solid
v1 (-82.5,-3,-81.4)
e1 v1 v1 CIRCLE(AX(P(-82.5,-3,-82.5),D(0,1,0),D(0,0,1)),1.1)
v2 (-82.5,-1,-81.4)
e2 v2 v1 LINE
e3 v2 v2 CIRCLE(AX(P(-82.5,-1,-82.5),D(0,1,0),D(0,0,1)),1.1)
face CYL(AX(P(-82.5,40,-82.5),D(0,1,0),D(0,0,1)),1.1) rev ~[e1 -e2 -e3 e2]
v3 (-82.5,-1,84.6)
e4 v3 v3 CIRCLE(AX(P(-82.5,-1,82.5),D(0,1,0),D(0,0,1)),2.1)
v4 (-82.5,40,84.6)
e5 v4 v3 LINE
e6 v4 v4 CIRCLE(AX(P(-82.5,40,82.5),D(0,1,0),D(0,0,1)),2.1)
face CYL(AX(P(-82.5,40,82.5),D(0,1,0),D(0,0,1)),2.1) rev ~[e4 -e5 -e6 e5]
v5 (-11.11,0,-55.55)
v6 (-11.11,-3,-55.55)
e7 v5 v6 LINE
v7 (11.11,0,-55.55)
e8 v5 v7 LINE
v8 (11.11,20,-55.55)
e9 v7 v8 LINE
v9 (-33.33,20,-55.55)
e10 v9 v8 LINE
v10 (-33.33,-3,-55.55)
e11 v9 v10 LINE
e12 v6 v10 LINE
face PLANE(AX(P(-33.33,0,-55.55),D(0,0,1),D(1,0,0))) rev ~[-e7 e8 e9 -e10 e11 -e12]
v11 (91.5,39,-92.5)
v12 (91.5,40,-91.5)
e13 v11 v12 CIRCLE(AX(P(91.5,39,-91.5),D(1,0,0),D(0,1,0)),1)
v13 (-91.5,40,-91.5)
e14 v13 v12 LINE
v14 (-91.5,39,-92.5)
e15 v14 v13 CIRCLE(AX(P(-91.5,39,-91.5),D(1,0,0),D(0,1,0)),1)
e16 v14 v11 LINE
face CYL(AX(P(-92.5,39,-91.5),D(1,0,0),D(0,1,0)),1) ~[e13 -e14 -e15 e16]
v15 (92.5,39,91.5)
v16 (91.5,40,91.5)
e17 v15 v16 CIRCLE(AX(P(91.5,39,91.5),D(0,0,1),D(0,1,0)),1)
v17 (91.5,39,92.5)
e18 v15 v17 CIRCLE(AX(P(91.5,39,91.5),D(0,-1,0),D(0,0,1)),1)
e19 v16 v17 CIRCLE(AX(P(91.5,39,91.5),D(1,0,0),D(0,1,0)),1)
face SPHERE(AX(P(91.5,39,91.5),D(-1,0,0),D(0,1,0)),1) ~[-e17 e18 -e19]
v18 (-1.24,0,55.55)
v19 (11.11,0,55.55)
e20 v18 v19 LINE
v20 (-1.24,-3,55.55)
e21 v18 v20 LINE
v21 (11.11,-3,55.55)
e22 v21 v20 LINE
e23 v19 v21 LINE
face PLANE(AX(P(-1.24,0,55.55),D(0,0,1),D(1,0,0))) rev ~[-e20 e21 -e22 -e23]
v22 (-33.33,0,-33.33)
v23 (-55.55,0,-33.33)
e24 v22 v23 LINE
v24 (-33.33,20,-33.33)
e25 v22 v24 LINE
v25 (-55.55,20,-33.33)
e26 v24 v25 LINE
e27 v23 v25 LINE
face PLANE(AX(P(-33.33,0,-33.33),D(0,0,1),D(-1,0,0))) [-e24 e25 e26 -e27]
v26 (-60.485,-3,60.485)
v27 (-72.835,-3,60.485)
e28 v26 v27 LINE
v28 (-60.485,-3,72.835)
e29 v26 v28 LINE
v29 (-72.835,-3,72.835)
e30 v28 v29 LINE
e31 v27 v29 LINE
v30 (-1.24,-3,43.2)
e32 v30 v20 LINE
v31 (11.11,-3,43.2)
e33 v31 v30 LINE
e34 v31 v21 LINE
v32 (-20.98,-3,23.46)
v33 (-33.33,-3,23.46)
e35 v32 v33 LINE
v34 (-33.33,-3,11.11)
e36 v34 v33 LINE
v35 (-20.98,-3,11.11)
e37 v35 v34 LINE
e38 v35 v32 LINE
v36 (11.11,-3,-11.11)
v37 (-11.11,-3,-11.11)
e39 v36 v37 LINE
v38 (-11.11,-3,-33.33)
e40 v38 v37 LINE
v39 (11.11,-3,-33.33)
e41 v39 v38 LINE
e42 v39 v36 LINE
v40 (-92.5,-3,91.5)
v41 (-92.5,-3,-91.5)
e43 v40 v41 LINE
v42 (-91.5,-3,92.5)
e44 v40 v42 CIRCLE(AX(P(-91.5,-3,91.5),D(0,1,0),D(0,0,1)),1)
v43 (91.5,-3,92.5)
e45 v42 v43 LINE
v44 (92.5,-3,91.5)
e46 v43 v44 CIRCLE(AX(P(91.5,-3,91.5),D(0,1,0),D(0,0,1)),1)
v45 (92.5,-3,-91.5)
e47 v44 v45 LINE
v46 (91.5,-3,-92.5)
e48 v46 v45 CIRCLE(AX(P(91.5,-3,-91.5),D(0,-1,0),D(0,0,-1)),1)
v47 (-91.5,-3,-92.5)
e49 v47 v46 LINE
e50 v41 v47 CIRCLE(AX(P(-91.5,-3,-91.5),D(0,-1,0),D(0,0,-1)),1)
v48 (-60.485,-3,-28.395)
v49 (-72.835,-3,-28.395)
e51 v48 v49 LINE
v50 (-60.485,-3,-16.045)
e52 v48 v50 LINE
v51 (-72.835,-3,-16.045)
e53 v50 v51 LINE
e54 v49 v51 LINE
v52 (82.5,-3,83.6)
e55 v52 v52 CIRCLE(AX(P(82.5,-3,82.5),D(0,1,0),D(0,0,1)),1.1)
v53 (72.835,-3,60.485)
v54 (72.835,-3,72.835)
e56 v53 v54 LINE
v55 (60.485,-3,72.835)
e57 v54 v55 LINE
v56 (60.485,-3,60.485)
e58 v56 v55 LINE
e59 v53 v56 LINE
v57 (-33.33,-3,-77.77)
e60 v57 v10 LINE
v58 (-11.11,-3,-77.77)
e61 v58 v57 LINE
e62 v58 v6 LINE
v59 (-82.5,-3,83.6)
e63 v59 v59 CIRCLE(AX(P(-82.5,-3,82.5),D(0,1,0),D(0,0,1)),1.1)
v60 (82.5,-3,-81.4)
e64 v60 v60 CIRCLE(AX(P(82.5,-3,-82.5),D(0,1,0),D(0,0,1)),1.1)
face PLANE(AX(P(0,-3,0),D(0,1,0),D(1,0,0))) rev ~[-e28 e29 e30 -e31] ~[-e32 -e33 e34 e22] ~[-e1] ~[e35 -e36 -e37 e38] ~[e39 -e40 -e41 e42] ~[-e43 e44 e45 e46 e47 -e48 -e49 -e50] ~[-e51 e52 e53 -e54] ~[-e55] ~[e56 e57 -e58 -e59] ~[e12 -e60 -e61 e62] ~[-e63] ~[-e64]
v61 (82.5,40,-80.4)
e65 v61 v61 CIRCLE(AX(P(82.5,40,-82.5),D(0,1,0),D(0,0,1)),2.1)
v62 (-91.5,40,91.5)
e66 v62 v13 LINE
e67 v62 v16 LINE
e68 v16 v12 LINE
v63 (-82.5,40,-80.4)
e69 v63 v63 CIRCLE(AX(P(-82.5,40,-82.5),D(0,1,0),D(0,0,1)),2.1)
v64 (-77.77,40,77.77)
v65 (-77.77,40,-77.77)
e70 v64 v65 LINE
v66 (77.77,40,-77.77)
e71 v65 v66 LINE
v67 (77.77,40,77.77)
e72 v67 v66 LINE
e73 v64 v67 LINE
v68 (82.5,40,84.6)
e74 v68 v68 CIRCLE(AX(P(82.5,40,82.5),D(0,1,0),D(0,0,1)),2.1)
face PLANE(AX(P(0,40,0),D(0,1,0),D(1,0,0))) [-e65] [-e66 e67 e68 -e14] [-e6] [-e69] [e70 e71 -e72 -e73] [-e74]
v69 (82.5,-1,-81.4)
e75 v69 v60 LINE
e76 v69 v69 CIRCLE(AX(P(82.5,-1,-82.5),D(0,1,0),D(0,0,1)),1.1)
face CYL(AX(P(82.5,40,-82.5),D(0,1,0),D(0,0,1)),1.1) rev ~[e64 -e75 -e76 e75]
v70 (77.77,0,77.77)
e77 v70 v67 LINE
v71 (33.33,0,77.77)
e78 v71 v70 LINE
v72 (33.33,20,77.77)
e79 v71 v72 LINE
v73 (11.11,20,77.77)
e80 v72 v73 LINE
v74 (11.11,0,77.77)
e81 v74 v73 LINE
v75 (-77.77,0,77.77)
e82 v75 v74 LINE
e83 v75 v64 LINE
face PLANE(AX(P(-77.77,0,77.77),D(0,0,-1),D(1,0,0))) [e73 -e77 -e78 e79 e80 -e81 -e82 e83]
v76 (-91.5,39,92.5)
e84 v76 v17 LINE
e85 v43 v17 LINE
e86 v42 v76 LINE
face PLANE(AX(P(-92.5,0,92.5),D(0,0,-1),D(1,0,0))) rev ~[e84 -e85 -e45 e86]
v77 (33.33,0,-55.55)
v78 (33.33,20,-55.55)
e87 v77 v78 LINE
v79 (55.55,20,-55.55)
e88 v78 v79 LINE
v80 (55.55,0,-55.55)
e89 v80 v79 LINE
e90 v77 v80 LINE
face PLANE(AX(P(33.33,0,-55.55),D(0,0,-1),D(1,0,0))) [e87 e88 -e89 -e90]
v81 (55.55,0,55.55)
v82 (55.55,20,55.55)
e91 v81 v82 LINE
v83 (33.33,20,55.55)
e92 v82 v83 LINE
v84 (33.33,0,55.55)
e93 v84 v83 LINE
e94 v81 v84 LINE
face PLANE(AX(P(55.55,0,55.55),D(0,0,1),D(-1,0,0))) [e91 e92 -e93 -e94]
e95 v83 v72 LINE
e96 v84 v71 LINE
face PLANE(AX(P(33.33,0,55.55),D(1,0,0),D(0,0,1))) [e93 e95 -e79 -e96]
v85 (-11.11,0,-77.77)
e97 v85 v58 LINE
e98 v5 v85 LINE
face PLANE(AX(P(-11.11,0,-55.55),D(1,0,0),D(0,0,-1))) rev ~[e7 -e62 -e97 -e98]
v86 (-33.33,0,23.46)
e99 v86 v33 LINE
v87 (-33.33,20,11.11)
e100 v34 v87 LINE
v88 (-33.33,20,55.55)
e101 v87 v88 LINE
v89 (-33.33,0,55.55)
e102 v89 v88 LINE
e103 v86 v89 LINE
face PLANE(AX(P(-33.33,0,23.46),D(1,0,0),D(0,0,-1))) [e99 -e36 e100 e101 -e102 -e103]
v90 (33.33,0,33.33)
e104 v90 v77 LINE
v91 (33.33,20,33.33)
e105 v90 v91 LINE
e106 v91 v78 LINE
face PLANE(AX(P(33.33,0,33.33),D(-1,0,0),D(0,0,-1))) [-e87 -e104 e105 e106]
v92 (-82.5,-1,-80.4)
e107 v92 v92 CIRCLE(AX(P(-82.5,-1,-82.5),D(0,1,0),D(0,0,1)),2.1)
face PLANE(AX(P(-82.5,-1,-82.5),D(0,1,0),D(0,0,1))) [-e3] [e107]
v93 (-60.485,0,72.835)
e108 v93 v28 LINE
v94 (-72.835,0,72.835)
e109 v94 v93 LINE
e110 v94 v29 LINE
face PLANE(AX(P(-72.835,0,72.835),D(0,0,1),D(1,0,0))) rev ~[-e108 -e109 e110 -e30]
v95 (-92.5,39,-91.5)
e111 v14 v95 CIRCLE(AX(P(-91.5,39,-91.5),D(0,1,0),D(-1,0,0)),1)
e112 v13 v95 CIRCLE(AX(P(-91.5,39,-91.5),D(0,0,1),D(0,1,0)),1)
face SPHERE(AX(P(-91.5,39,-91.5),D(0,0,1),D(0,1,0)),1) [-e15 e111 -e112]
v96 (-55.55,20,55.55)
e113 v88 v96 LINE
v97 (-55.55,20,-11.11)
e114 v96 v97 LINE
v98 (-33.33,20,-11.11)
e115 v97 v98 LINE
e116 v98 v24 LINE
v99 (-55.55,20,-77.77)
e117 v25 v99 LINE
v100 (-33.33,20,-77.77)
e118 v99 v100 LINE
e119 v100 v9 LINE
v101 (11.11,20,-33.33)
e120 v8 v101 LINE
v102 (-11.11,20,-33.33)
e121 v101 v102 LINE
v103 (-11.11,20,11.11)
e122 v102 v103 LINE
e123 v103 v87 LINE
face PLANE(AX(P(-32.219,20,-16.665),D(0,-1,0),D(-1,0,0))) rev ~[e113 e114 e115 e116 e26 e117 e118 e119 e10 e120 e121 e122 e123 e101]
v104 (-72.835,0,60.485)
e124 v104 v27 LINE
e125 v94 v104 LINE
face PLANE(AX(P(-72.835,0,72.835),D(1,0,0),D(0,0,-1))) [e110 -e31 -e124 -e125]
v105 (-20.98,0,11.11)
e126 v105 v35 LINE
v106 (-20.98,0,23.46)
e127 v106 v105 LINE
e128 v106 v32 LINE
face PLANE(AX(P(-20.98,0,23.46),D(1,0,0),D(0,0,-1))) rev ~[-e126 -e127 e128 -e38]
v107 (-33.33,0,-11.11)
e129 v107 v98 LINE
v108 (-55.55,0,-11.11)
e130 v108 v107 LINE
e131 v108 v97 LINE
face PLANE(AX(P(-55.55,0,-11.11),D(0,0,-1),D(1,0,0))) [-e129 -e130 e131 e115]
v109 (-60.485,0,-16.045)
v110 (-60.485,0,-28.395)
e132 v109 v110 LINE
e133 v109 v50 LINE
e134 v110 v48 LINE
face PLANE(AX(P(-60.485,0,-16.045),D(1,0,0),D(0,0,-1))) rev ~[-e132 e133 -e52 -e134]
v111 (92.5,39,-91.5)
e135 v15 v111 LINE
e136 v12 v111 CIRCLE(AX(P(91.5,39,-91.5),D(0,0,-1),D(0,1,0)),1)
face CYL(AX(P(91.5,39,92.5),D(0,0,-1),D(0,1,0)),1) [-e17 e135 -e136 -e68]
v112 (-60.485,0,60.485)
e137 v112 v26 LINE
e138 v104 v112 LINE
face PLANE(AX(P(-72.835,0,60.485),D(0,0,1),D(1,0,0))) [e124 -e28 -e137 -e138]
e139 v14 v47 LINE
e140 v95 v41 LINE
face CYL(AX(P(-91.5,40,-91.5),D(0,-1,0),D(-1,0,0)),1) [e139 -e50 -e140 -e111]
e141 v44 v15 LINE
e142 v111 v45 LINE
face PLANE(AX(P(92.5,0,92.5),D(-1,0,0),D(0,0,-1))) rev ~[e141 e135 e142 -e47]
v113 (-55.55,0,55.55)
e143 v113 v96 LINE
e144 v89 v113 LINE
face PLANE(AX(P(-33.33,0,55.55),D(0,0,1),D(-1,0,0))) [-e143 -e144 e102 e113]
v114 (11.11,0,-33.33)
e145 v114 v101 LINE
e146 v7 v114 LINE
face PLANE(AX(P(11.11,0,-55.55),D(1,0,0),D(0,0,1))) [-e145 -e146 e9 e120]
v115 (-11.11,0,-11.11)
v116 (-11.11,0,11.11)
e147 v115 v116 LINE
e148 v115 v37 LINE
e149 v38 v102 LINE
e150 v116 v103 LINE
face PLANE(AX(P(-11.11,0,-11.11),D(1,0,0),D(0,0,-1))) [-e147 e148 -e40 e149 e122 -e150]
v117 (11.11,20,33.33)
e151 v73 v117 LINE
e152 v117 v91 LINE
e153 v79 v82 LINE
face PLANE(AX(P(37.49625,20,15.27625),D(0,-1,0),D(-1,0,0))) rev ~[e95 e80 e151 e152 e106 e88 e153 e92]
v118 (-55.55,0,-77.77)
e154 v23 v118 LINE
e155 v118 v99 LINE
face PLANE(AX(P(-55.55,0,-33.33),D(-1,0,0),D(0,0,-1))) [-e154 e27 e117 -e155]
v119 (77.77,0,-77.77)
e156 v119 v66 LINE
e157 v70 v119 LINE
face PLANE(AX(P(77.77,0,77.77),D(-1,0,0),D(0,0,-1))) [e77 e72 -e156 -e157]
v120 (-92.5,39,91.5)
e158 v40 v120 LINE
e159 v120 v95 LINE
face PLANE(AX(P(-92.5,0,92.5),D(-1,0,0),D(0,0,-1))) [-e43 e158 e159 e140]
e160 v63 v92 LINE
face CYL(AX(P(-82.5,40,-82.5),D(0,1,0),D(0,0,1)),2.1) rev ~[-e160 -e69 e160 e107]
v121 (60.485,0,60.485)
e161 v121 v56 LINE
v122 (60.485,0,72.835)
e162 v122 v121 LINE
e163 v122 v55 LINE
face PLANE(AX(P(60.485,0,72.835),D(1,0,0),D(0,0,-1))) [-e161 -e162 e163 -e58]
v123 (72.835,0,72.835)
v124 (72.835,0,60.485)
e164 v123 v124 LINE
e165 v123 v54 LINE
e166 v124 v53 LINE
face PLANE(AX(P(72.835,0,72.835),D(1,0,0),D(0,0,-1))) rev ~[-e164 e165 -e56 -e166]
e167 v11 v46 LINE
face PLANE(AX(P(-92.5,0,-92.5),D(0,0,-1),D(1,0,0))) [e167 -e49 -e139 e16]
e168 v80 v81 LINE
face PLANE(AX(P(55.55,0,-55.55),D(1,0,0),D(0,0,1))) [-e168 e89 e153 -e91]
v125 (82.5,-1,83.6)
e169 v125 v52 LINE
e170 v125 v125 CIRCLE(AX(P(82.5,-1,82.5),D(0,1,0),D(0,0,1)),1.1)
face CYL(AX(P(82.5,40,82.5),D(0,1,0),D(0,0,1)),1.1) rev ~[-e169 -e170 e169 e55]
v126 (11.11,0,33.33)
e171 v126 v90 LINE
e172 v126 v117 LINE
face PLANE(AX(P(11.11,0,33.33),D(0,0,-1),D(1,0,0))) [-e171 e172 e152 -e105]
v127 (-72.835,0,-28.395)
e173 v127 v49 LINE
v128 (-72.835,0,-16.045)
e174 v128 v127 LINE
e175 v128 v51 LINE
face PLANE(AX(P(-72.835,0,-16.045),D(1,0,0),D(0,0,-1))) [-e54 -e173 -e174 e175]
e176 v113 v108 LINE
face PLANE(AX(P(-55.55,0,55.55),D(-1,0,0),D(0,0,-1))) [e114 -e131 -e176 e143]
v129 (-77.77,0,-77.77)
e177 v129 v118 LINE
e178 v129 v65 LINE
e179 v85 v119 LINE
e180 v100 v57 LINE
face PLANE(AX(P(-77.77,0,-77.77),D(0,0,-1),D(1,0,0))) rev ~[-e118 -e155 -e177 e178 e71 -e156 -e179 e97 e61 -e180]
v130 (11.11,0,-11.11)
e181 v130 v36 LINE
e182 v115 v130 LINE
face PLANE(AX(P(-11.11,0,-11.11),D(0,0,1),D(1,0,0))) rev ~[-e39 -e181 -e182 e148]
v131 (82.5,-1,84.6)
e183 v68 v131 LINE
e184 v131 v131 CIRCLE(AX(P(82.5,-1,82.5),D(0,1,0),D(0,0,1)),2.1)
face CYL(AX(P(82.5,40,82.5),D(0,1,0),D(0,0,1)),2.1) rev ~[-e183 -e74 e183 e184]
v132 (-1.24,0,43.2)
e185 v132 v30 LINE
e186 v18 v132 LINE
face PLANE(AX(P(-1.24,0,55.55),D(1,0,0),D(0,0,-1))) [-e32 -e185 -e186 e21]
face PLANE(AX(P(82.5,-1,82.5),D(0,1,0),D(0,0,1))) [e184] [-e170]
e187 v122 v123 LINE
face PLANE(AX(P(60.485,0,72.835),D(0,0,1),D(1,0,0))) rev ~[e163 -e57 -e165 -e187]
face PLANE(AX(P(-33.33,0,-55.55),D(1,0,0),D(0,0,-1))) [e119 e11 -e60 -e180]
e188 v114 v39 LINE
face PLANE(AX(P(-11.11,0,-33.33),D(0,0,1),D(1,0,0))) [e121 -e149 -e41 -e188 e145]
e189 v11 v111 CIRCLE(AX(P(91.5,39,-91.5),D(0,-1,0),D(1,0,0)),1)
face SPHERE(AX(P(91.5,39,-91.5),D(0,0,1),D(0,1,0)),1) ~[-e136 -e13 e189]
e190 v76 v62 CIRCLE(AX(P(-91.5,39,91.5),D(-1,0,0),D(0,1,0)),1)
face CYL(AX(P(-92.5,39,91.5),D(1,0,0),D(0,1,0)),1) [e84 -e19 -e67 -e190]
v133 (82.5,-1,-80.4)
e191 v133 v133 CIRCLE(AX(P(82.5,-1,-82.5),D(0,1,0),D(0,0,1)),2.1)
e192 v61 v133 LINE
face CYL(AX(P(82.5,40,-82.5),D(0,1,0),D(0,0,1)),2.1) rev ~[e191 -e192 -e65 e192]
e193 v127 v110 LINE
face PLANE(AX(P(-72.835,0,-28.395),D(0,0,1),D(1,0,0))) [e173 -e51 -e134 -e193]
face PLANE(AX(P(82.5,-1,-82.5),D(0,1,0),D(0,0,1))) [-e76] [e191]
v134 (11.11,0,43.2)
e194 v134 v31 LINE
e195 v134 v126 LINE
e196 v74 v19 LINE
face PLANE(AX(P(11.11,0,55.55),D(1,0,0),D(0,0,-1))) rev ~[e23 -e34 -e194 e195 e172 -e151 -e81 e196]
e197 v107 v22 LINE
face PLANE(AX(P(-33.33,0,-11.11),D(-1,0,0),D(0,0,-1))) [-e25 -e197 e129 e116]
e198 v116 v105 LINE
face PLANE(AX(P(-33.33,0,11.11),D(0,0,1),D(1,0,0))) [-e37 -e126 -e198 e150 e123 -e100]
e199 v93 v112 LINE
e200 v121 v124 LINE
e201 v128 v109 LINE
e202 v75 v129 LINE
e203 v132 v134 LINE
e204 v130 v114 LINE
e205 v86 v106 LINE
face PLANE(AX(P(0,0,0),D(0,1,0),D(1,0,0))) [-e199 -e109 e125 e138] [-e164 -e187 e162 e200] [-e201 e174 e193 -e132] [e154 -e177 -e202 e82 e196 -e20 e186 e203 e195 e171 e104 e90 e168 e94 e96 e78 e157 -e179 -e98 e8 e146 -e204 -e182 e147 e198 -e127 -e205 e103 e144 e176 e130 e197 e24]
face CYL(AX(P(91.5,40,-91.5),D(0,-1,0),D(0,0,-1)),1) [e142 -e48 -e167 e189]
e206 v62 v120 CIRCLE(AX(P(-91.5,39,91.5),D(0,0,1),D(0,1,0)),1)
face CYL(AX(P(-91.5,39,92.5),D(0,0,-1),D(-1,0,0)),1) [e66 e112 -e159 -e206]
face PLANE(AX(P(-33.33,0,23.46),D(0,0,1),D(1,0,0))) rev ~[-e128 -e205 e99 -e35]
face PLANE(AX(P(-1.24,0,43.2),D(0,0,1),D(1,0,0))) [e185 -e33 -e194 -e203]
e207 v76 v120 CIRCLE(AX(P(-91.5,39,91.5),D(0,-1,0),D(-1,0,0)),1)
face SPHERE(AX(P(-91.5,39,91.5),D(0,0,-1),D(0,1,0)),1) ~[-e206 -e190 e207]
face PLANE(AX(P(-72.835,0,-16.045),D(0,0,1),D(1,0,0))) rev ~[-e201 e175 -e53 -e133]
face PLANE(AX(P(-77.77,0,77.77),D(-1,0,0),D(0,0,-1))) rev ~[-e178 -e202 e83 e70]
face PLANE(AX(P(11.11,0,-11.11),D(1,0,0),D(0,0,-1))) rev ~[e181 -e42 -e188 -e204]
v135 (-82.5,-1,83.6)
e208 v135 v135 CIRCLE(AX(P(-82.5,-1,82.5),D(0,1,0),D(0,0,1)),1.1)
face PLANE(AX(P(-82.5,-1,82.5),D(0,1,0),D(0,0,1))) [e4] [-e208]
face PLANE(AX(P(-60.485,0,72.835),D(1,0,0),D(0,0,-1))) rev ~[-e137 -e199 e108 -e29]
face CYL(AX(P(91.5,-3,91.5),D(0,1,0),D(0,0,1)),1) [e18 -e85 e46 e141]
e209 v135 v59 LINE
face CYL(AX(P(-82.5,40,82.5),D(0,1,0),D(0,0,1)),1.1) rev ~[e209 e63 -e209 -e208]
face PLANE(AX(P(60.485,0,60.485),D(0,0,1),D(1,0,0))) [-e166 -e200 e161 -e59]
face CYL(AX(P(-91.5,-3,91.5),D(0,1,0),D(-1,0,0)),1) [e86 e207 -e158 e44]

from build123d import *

# Parameters (mm, degrees)
ESQUISSE2_W             = 185
ESQUISSE2_H             = 185
BOSS_EXTRU_1_DEPTH      = 3
ESQUISSE3_W             = 185
ESQUISSE3_H             = 185
ESQUISSE3_W_2           = 155.54
ESQUISSE3_H_2           = 155.54
BOSS_EXTRU_2_DEPTH      = 40
BOSS_EXTRU_3_DEPTH      = 20
ENL_V_MAT_EXTRU_1_REACH = 5
ESQUISSE5_W             = 22.22
ESQUISSE5_H             = 22.22
ESQUISSE5_W_2           = 12.35
ESQUISSE5_H_2           = 12.35
CONG_1_R                = 1
ESQUISSE6_R             = 1.1
ENL_V_MAT_EXTRU_2_DEPTH = 44
ESQUISSE7_R             = 2.1
ENL_V_MAT_EXTRU_3_DEPTH = 41


with BuildPart() as part:
    # Esquisse2 → Boss.-Extru.1 (new body)
    with BuildSketch(Plane(origin=(0, 0, 0), x_dir=(1, 0, 0), z_dir=(0, 1, 0))):
        Rectangle(ESQUISSE2_W, ESQUISSE2_H)
    extrude(amount=-BOSS_EXTRU_1_DEPTH)

    # Esquisse3 → Boss.-Extru.2 (add)
    with BuildSketch(Plane(origin=(0, 0, 0), x_dir=(1, 0, 0), z_dir=(0, 1, 0))):
        Rectangle(ESQUISSE3_W, ESQUISSE3_H)
        Rectangle(ESQUISSE3_W_2, ESQUISSE3_H_2, mode=Mode.SUBTRACT)
    extrude(amount=BOSS_EXTRU_2_DEPTH)

    # Esquisse4 → Boss.-Extru.3 (add)
    with BuildSketch(Plane(origin=(0, 0, 0), x_dir=(1, 0, 0), z_dir=(0, 1, 0))):
        Polygon((-55.55, 77.77), (-33.33, 77.77), (-33.33, 55.55), (11.11, 55.55), (11.11, 33.33), (-11.11, 33.33), (-11.11, -11.11), (-33.33, -11.11), (-33.33, -55.55), (-55.55, -55.55), (-55.55, 11.11), (-33.33, 11.11), (-33.33, 33.33), (-55.55, 33.33), align=None)
        Polygon((33.33, 55.55), (55.55, 55.55), (55.55, -55.55), (33.33, -55.55), (33.33, -77.77), (11.11, -77.77), (11.11, -33.33), (33.33, -33.33), align=None)
    extrude(amount=BOSS_EXTRU_3_DEPTH)

    # Esquisse5 → Enlèv. mat.-Extru.1 (cut, up to next)
    with BuildSketch(Plane(origin=(0, 0, 0), x_dir=(1, 0, 0), z_dir=(0, 1, 0)), mode=Mode.PRIVATE) as enl_v_mat_extru_1_sk1:
        with Locations((-22.22, 66.66)):
            Rectangle(ESQUISSE5_W, ESQUISSE5_H)
    enl_v_mat_extru_1_tool1 = extrude(enl_v_mat_extru_1_sk1.sketch, amount=-ENL_V_MAT_EXTRU_1_REACH, mode=Mode.PRIVATE) & part.part
    add(enl_v_mat_extru_1_tool1.solids().sort_by_distance((-22.22, 0, -66.66))[0], mode=Mode.SUBTRACT)
    # Esquisse5 → Enlèv. mat.-Extru.1 (cut, up to next)
    with BuildSketch(Plane(origin=(0, 0, 0), x_dir=(1, 0, 0), z_dir=(0, 1, 0)), mode=Mode.PRIVATE) as enl_v_mat_extru_1_sk2:
        with Locations((0, 22.22)):
            Rectangle(ESQUISSE5_W, ESQUISSE5_H)
    enl_v_mat_extru_1_tool2 = extrude(enl_v_mat_extru_1_sk2.sketch, amount=-ENL_V_MAT_EXTRU_1_REACH, mode=Mode.PRIVATE) & part.part
    add(enl_v_mat_extru_1_tool2.solids().sort_by_distance((0, 0, -22.22))[0], mode=Mode.SUBTRACT)
    # Esquisse5 → Enlèv. mat.-Extru.1 (cut, up to next)
    with BuildSketch(Plane(origin=(0, 0, 0), x_dir=(1, 0, 0), z_dir=(0, 1, 0)), mode=Mode.PRIVATE) as enl_v_mat_extru_1_sk3:
        with Locations((-27.155, -17.285)):
            Rectangle(ESQUISSE5_W_2, ESQUISSE5_H_2)
    enl_v_mat_extru_1_tool3 = extrude(enl_v_mat_extru_1_sk3.sketch, amount=-ENL_V_MAT_EXTRU_1_REACH, mode=Mode.PRIVATE) & part.part
    add(enl_v_mat_extru_1_tool3.solids().sort_by_distance((-27.155, 0, 17.285))[0], mode=Mode.SUBTRACT)
    # Esquisse5 → Enlèv. mat.-Extru.1 (cut, up to next)
    with BuildSketch(Plane(origin=(0, 0, 0), x_dir=(1, 0, 0), z_dir=(0, 1, 0)), mode=Mode.PRIVATE) as enl_v_mat_extru_1_sk4:
        with Locations((-66.66, 22.22)):
            Rectangle(ESQUISSE5_W_2, ESQUISSE5_H_2)
    enl_v_mat_extru_1_tool4 = extrude(enl_v_mat_extru_1_sk4.sketch, amount=-ENL_V_MAT_EXTRU_1_REACH, mode=Mode.PRIVATE) & part.part
    add(enl_v_mat_extru_1_tool4.solids().sort_by_distance((-66.66, 0, -22.22))[0], mode=Mode.SUBTRACT)
    # Esquisse5 → Enlèv. mat.-Extru.1 (cut, up to next)
    with BuildSketch(Plane(origin=(0, 0, 0), x_dir=(1, 0, 0), z_dir=(0, 1, 0)), mode=Mode.PRIVATE) as enl_v_mat_extru_1_sk5:
        with Locations((-66.66, -66.66)):
            Rectangle(ESQUISSE5_W_2, ESQUISSE5_H_2)
    enl_v_mat_extru_1_tool5 = extrude(enl_v_mat_extru_1_sk5.sketch, amount=-ENL_V_MAT_EXTRU_1_REACH, mode=Mode.PRIVATE) & part.part
    add(enl_v_mat_extru_1_tool5.solids().sort_by_distance((-66.66, 0, 66.66))[0], mode=Mode.SUBTRACT)
    # Esquisse5 → Enlèv. mat.-Extru.1 (cut, up to next)
    with BuildSketch(Plane(origin=(0, 0, 0), x_dir=(1, 0, 0), z_dir=(0, 1, 0)), mode=Mode.PRIVATE) as enl_v_mat_extru_1_sk6:
        with Locations((66.66, -66.66)):
            Rectangle(ESQUISSE5_W_2, ESQUISSE5_H_2)
    enl_v_mat_extru_1_tool6 = extrude(enl_v_mat_extru_1_sk6.sketch, amount=-ENL_V_MAT_EXTRU_1_REACH, mode=Mode.PRIVATE) & part.part
    add(enl_v_mat_extru_1_tool6.solids().sort_by_distance((66.66, 0, 66.66))[0], mode=Mode.SUBTRACT)
    # Esquisse5 → Enlèv. mat.-Extru.1 (cut, up to next)
    with BuildSketch(Plane(origin=(0, 0, 0), x_dir=(1, 0, 0), z_dir=(0, 1, 0)), mode=Mode.PRIVATE) as enl_v_mat_extru_1_sk7:
        with Locations((4.935, -49.375)):
            Rectangle(ESQUISSE5_W_2, ESQUISSE5_H_2)
    enl_v_mat_extru_1_tool7 = extrude(enl_v_mat_extru_1_sk7.sketch, amount=-ENL_V_MAT_EXTRU_1_REACH, mode=Mode.PRIVATE) & part.part
    add(enl_v_mat_extru_1_tool7.solids().sort_by_distance((4.935, 0, 49.375))[0], mode=Mode.SUBTRACT)

    # Congé1
    cong_1_edges = [part.edges().sort_by_distance(p)[0] for p in [
        (-92.5, 40, 0),
        (0, 40, 92.5),
        (92.5, 40, 0),
        (0, 40, -92.5),
        (-92.5, 18.5, -92.5),
        (92.5, 18.5, -92.5),
        (92.5, 18.5, 92.5),
        (-92.5, 18.5, 92.5),
    ]]
    fillet(cong_1_edges, radius=CONG_1_R)

    # Esquisse6 → Enlèv. mat.-Extru.2 (cut, through all)
    with BuildSketch(Plane(origin=(0, 40, 0), x_dir=(1, 0, 0), z_dir=(0, 1, 0))):
        with Locations(Location((-82.5, -82.5, 0), (0, 0, 270))):  # turned: the seam where the file's is
            Circle(ESQUISSE6_R)
        with Locations(Location((82.5, -82.5, 0), (0, 0, 270))):  # turned: the seam where the file's is
            Circle(ESQUISSE6_R)
        with Locations(Location((82.5, 82.5, 0), (0, 0, 270))):  # turned: the seam where the file's is
            Circle(ESQUISSE6_R)
        with Locations(Location((-82.5, 82.5, 0), (0, 0, 270))):  # turned: the seam where the file's is
            Circle(ESQUISSE6_R)
    extrude(amount=-ENL_V_MAT_EXTRU_2_DEPTH, mode=Mode.SUBTRACT)

    # Esquisse7 → Enlèv. mat.-Extru.3 (cut)
    with BuildSketch(Plane(origin=(0, 40, 0), x_dir=(1, 0, 0), z_dir=(0, 1, 0))):
        with Locations(Location((-82.5, -82.5, 0), (0, 0, 270))):  # turned: the seam where the file's is
            Circle(ESQUISSE7_R)
        with Locations(Location((-82.5, 82.5, 0), (0, 0, 270))):  # turned: the seam where the file's is
            Circle(ESQUISSE7_R)
        with Locations(Location((82.5, 82.5, 0), (0, 0, 270))):  # turned: the seam where the file's is
            Circle(ESQUISSE7_R)
        with Locations(Location((82.5, -82.5, 0), (0, 0, 270))):  # turned: the seam where the file's is
            Circle(ESQUISSE7_R)
    extrude(amount=-ENL_V_MAT_EXTRU_3_DEPTH, mode=Mode.SUBTRACT)


solid = part.part
